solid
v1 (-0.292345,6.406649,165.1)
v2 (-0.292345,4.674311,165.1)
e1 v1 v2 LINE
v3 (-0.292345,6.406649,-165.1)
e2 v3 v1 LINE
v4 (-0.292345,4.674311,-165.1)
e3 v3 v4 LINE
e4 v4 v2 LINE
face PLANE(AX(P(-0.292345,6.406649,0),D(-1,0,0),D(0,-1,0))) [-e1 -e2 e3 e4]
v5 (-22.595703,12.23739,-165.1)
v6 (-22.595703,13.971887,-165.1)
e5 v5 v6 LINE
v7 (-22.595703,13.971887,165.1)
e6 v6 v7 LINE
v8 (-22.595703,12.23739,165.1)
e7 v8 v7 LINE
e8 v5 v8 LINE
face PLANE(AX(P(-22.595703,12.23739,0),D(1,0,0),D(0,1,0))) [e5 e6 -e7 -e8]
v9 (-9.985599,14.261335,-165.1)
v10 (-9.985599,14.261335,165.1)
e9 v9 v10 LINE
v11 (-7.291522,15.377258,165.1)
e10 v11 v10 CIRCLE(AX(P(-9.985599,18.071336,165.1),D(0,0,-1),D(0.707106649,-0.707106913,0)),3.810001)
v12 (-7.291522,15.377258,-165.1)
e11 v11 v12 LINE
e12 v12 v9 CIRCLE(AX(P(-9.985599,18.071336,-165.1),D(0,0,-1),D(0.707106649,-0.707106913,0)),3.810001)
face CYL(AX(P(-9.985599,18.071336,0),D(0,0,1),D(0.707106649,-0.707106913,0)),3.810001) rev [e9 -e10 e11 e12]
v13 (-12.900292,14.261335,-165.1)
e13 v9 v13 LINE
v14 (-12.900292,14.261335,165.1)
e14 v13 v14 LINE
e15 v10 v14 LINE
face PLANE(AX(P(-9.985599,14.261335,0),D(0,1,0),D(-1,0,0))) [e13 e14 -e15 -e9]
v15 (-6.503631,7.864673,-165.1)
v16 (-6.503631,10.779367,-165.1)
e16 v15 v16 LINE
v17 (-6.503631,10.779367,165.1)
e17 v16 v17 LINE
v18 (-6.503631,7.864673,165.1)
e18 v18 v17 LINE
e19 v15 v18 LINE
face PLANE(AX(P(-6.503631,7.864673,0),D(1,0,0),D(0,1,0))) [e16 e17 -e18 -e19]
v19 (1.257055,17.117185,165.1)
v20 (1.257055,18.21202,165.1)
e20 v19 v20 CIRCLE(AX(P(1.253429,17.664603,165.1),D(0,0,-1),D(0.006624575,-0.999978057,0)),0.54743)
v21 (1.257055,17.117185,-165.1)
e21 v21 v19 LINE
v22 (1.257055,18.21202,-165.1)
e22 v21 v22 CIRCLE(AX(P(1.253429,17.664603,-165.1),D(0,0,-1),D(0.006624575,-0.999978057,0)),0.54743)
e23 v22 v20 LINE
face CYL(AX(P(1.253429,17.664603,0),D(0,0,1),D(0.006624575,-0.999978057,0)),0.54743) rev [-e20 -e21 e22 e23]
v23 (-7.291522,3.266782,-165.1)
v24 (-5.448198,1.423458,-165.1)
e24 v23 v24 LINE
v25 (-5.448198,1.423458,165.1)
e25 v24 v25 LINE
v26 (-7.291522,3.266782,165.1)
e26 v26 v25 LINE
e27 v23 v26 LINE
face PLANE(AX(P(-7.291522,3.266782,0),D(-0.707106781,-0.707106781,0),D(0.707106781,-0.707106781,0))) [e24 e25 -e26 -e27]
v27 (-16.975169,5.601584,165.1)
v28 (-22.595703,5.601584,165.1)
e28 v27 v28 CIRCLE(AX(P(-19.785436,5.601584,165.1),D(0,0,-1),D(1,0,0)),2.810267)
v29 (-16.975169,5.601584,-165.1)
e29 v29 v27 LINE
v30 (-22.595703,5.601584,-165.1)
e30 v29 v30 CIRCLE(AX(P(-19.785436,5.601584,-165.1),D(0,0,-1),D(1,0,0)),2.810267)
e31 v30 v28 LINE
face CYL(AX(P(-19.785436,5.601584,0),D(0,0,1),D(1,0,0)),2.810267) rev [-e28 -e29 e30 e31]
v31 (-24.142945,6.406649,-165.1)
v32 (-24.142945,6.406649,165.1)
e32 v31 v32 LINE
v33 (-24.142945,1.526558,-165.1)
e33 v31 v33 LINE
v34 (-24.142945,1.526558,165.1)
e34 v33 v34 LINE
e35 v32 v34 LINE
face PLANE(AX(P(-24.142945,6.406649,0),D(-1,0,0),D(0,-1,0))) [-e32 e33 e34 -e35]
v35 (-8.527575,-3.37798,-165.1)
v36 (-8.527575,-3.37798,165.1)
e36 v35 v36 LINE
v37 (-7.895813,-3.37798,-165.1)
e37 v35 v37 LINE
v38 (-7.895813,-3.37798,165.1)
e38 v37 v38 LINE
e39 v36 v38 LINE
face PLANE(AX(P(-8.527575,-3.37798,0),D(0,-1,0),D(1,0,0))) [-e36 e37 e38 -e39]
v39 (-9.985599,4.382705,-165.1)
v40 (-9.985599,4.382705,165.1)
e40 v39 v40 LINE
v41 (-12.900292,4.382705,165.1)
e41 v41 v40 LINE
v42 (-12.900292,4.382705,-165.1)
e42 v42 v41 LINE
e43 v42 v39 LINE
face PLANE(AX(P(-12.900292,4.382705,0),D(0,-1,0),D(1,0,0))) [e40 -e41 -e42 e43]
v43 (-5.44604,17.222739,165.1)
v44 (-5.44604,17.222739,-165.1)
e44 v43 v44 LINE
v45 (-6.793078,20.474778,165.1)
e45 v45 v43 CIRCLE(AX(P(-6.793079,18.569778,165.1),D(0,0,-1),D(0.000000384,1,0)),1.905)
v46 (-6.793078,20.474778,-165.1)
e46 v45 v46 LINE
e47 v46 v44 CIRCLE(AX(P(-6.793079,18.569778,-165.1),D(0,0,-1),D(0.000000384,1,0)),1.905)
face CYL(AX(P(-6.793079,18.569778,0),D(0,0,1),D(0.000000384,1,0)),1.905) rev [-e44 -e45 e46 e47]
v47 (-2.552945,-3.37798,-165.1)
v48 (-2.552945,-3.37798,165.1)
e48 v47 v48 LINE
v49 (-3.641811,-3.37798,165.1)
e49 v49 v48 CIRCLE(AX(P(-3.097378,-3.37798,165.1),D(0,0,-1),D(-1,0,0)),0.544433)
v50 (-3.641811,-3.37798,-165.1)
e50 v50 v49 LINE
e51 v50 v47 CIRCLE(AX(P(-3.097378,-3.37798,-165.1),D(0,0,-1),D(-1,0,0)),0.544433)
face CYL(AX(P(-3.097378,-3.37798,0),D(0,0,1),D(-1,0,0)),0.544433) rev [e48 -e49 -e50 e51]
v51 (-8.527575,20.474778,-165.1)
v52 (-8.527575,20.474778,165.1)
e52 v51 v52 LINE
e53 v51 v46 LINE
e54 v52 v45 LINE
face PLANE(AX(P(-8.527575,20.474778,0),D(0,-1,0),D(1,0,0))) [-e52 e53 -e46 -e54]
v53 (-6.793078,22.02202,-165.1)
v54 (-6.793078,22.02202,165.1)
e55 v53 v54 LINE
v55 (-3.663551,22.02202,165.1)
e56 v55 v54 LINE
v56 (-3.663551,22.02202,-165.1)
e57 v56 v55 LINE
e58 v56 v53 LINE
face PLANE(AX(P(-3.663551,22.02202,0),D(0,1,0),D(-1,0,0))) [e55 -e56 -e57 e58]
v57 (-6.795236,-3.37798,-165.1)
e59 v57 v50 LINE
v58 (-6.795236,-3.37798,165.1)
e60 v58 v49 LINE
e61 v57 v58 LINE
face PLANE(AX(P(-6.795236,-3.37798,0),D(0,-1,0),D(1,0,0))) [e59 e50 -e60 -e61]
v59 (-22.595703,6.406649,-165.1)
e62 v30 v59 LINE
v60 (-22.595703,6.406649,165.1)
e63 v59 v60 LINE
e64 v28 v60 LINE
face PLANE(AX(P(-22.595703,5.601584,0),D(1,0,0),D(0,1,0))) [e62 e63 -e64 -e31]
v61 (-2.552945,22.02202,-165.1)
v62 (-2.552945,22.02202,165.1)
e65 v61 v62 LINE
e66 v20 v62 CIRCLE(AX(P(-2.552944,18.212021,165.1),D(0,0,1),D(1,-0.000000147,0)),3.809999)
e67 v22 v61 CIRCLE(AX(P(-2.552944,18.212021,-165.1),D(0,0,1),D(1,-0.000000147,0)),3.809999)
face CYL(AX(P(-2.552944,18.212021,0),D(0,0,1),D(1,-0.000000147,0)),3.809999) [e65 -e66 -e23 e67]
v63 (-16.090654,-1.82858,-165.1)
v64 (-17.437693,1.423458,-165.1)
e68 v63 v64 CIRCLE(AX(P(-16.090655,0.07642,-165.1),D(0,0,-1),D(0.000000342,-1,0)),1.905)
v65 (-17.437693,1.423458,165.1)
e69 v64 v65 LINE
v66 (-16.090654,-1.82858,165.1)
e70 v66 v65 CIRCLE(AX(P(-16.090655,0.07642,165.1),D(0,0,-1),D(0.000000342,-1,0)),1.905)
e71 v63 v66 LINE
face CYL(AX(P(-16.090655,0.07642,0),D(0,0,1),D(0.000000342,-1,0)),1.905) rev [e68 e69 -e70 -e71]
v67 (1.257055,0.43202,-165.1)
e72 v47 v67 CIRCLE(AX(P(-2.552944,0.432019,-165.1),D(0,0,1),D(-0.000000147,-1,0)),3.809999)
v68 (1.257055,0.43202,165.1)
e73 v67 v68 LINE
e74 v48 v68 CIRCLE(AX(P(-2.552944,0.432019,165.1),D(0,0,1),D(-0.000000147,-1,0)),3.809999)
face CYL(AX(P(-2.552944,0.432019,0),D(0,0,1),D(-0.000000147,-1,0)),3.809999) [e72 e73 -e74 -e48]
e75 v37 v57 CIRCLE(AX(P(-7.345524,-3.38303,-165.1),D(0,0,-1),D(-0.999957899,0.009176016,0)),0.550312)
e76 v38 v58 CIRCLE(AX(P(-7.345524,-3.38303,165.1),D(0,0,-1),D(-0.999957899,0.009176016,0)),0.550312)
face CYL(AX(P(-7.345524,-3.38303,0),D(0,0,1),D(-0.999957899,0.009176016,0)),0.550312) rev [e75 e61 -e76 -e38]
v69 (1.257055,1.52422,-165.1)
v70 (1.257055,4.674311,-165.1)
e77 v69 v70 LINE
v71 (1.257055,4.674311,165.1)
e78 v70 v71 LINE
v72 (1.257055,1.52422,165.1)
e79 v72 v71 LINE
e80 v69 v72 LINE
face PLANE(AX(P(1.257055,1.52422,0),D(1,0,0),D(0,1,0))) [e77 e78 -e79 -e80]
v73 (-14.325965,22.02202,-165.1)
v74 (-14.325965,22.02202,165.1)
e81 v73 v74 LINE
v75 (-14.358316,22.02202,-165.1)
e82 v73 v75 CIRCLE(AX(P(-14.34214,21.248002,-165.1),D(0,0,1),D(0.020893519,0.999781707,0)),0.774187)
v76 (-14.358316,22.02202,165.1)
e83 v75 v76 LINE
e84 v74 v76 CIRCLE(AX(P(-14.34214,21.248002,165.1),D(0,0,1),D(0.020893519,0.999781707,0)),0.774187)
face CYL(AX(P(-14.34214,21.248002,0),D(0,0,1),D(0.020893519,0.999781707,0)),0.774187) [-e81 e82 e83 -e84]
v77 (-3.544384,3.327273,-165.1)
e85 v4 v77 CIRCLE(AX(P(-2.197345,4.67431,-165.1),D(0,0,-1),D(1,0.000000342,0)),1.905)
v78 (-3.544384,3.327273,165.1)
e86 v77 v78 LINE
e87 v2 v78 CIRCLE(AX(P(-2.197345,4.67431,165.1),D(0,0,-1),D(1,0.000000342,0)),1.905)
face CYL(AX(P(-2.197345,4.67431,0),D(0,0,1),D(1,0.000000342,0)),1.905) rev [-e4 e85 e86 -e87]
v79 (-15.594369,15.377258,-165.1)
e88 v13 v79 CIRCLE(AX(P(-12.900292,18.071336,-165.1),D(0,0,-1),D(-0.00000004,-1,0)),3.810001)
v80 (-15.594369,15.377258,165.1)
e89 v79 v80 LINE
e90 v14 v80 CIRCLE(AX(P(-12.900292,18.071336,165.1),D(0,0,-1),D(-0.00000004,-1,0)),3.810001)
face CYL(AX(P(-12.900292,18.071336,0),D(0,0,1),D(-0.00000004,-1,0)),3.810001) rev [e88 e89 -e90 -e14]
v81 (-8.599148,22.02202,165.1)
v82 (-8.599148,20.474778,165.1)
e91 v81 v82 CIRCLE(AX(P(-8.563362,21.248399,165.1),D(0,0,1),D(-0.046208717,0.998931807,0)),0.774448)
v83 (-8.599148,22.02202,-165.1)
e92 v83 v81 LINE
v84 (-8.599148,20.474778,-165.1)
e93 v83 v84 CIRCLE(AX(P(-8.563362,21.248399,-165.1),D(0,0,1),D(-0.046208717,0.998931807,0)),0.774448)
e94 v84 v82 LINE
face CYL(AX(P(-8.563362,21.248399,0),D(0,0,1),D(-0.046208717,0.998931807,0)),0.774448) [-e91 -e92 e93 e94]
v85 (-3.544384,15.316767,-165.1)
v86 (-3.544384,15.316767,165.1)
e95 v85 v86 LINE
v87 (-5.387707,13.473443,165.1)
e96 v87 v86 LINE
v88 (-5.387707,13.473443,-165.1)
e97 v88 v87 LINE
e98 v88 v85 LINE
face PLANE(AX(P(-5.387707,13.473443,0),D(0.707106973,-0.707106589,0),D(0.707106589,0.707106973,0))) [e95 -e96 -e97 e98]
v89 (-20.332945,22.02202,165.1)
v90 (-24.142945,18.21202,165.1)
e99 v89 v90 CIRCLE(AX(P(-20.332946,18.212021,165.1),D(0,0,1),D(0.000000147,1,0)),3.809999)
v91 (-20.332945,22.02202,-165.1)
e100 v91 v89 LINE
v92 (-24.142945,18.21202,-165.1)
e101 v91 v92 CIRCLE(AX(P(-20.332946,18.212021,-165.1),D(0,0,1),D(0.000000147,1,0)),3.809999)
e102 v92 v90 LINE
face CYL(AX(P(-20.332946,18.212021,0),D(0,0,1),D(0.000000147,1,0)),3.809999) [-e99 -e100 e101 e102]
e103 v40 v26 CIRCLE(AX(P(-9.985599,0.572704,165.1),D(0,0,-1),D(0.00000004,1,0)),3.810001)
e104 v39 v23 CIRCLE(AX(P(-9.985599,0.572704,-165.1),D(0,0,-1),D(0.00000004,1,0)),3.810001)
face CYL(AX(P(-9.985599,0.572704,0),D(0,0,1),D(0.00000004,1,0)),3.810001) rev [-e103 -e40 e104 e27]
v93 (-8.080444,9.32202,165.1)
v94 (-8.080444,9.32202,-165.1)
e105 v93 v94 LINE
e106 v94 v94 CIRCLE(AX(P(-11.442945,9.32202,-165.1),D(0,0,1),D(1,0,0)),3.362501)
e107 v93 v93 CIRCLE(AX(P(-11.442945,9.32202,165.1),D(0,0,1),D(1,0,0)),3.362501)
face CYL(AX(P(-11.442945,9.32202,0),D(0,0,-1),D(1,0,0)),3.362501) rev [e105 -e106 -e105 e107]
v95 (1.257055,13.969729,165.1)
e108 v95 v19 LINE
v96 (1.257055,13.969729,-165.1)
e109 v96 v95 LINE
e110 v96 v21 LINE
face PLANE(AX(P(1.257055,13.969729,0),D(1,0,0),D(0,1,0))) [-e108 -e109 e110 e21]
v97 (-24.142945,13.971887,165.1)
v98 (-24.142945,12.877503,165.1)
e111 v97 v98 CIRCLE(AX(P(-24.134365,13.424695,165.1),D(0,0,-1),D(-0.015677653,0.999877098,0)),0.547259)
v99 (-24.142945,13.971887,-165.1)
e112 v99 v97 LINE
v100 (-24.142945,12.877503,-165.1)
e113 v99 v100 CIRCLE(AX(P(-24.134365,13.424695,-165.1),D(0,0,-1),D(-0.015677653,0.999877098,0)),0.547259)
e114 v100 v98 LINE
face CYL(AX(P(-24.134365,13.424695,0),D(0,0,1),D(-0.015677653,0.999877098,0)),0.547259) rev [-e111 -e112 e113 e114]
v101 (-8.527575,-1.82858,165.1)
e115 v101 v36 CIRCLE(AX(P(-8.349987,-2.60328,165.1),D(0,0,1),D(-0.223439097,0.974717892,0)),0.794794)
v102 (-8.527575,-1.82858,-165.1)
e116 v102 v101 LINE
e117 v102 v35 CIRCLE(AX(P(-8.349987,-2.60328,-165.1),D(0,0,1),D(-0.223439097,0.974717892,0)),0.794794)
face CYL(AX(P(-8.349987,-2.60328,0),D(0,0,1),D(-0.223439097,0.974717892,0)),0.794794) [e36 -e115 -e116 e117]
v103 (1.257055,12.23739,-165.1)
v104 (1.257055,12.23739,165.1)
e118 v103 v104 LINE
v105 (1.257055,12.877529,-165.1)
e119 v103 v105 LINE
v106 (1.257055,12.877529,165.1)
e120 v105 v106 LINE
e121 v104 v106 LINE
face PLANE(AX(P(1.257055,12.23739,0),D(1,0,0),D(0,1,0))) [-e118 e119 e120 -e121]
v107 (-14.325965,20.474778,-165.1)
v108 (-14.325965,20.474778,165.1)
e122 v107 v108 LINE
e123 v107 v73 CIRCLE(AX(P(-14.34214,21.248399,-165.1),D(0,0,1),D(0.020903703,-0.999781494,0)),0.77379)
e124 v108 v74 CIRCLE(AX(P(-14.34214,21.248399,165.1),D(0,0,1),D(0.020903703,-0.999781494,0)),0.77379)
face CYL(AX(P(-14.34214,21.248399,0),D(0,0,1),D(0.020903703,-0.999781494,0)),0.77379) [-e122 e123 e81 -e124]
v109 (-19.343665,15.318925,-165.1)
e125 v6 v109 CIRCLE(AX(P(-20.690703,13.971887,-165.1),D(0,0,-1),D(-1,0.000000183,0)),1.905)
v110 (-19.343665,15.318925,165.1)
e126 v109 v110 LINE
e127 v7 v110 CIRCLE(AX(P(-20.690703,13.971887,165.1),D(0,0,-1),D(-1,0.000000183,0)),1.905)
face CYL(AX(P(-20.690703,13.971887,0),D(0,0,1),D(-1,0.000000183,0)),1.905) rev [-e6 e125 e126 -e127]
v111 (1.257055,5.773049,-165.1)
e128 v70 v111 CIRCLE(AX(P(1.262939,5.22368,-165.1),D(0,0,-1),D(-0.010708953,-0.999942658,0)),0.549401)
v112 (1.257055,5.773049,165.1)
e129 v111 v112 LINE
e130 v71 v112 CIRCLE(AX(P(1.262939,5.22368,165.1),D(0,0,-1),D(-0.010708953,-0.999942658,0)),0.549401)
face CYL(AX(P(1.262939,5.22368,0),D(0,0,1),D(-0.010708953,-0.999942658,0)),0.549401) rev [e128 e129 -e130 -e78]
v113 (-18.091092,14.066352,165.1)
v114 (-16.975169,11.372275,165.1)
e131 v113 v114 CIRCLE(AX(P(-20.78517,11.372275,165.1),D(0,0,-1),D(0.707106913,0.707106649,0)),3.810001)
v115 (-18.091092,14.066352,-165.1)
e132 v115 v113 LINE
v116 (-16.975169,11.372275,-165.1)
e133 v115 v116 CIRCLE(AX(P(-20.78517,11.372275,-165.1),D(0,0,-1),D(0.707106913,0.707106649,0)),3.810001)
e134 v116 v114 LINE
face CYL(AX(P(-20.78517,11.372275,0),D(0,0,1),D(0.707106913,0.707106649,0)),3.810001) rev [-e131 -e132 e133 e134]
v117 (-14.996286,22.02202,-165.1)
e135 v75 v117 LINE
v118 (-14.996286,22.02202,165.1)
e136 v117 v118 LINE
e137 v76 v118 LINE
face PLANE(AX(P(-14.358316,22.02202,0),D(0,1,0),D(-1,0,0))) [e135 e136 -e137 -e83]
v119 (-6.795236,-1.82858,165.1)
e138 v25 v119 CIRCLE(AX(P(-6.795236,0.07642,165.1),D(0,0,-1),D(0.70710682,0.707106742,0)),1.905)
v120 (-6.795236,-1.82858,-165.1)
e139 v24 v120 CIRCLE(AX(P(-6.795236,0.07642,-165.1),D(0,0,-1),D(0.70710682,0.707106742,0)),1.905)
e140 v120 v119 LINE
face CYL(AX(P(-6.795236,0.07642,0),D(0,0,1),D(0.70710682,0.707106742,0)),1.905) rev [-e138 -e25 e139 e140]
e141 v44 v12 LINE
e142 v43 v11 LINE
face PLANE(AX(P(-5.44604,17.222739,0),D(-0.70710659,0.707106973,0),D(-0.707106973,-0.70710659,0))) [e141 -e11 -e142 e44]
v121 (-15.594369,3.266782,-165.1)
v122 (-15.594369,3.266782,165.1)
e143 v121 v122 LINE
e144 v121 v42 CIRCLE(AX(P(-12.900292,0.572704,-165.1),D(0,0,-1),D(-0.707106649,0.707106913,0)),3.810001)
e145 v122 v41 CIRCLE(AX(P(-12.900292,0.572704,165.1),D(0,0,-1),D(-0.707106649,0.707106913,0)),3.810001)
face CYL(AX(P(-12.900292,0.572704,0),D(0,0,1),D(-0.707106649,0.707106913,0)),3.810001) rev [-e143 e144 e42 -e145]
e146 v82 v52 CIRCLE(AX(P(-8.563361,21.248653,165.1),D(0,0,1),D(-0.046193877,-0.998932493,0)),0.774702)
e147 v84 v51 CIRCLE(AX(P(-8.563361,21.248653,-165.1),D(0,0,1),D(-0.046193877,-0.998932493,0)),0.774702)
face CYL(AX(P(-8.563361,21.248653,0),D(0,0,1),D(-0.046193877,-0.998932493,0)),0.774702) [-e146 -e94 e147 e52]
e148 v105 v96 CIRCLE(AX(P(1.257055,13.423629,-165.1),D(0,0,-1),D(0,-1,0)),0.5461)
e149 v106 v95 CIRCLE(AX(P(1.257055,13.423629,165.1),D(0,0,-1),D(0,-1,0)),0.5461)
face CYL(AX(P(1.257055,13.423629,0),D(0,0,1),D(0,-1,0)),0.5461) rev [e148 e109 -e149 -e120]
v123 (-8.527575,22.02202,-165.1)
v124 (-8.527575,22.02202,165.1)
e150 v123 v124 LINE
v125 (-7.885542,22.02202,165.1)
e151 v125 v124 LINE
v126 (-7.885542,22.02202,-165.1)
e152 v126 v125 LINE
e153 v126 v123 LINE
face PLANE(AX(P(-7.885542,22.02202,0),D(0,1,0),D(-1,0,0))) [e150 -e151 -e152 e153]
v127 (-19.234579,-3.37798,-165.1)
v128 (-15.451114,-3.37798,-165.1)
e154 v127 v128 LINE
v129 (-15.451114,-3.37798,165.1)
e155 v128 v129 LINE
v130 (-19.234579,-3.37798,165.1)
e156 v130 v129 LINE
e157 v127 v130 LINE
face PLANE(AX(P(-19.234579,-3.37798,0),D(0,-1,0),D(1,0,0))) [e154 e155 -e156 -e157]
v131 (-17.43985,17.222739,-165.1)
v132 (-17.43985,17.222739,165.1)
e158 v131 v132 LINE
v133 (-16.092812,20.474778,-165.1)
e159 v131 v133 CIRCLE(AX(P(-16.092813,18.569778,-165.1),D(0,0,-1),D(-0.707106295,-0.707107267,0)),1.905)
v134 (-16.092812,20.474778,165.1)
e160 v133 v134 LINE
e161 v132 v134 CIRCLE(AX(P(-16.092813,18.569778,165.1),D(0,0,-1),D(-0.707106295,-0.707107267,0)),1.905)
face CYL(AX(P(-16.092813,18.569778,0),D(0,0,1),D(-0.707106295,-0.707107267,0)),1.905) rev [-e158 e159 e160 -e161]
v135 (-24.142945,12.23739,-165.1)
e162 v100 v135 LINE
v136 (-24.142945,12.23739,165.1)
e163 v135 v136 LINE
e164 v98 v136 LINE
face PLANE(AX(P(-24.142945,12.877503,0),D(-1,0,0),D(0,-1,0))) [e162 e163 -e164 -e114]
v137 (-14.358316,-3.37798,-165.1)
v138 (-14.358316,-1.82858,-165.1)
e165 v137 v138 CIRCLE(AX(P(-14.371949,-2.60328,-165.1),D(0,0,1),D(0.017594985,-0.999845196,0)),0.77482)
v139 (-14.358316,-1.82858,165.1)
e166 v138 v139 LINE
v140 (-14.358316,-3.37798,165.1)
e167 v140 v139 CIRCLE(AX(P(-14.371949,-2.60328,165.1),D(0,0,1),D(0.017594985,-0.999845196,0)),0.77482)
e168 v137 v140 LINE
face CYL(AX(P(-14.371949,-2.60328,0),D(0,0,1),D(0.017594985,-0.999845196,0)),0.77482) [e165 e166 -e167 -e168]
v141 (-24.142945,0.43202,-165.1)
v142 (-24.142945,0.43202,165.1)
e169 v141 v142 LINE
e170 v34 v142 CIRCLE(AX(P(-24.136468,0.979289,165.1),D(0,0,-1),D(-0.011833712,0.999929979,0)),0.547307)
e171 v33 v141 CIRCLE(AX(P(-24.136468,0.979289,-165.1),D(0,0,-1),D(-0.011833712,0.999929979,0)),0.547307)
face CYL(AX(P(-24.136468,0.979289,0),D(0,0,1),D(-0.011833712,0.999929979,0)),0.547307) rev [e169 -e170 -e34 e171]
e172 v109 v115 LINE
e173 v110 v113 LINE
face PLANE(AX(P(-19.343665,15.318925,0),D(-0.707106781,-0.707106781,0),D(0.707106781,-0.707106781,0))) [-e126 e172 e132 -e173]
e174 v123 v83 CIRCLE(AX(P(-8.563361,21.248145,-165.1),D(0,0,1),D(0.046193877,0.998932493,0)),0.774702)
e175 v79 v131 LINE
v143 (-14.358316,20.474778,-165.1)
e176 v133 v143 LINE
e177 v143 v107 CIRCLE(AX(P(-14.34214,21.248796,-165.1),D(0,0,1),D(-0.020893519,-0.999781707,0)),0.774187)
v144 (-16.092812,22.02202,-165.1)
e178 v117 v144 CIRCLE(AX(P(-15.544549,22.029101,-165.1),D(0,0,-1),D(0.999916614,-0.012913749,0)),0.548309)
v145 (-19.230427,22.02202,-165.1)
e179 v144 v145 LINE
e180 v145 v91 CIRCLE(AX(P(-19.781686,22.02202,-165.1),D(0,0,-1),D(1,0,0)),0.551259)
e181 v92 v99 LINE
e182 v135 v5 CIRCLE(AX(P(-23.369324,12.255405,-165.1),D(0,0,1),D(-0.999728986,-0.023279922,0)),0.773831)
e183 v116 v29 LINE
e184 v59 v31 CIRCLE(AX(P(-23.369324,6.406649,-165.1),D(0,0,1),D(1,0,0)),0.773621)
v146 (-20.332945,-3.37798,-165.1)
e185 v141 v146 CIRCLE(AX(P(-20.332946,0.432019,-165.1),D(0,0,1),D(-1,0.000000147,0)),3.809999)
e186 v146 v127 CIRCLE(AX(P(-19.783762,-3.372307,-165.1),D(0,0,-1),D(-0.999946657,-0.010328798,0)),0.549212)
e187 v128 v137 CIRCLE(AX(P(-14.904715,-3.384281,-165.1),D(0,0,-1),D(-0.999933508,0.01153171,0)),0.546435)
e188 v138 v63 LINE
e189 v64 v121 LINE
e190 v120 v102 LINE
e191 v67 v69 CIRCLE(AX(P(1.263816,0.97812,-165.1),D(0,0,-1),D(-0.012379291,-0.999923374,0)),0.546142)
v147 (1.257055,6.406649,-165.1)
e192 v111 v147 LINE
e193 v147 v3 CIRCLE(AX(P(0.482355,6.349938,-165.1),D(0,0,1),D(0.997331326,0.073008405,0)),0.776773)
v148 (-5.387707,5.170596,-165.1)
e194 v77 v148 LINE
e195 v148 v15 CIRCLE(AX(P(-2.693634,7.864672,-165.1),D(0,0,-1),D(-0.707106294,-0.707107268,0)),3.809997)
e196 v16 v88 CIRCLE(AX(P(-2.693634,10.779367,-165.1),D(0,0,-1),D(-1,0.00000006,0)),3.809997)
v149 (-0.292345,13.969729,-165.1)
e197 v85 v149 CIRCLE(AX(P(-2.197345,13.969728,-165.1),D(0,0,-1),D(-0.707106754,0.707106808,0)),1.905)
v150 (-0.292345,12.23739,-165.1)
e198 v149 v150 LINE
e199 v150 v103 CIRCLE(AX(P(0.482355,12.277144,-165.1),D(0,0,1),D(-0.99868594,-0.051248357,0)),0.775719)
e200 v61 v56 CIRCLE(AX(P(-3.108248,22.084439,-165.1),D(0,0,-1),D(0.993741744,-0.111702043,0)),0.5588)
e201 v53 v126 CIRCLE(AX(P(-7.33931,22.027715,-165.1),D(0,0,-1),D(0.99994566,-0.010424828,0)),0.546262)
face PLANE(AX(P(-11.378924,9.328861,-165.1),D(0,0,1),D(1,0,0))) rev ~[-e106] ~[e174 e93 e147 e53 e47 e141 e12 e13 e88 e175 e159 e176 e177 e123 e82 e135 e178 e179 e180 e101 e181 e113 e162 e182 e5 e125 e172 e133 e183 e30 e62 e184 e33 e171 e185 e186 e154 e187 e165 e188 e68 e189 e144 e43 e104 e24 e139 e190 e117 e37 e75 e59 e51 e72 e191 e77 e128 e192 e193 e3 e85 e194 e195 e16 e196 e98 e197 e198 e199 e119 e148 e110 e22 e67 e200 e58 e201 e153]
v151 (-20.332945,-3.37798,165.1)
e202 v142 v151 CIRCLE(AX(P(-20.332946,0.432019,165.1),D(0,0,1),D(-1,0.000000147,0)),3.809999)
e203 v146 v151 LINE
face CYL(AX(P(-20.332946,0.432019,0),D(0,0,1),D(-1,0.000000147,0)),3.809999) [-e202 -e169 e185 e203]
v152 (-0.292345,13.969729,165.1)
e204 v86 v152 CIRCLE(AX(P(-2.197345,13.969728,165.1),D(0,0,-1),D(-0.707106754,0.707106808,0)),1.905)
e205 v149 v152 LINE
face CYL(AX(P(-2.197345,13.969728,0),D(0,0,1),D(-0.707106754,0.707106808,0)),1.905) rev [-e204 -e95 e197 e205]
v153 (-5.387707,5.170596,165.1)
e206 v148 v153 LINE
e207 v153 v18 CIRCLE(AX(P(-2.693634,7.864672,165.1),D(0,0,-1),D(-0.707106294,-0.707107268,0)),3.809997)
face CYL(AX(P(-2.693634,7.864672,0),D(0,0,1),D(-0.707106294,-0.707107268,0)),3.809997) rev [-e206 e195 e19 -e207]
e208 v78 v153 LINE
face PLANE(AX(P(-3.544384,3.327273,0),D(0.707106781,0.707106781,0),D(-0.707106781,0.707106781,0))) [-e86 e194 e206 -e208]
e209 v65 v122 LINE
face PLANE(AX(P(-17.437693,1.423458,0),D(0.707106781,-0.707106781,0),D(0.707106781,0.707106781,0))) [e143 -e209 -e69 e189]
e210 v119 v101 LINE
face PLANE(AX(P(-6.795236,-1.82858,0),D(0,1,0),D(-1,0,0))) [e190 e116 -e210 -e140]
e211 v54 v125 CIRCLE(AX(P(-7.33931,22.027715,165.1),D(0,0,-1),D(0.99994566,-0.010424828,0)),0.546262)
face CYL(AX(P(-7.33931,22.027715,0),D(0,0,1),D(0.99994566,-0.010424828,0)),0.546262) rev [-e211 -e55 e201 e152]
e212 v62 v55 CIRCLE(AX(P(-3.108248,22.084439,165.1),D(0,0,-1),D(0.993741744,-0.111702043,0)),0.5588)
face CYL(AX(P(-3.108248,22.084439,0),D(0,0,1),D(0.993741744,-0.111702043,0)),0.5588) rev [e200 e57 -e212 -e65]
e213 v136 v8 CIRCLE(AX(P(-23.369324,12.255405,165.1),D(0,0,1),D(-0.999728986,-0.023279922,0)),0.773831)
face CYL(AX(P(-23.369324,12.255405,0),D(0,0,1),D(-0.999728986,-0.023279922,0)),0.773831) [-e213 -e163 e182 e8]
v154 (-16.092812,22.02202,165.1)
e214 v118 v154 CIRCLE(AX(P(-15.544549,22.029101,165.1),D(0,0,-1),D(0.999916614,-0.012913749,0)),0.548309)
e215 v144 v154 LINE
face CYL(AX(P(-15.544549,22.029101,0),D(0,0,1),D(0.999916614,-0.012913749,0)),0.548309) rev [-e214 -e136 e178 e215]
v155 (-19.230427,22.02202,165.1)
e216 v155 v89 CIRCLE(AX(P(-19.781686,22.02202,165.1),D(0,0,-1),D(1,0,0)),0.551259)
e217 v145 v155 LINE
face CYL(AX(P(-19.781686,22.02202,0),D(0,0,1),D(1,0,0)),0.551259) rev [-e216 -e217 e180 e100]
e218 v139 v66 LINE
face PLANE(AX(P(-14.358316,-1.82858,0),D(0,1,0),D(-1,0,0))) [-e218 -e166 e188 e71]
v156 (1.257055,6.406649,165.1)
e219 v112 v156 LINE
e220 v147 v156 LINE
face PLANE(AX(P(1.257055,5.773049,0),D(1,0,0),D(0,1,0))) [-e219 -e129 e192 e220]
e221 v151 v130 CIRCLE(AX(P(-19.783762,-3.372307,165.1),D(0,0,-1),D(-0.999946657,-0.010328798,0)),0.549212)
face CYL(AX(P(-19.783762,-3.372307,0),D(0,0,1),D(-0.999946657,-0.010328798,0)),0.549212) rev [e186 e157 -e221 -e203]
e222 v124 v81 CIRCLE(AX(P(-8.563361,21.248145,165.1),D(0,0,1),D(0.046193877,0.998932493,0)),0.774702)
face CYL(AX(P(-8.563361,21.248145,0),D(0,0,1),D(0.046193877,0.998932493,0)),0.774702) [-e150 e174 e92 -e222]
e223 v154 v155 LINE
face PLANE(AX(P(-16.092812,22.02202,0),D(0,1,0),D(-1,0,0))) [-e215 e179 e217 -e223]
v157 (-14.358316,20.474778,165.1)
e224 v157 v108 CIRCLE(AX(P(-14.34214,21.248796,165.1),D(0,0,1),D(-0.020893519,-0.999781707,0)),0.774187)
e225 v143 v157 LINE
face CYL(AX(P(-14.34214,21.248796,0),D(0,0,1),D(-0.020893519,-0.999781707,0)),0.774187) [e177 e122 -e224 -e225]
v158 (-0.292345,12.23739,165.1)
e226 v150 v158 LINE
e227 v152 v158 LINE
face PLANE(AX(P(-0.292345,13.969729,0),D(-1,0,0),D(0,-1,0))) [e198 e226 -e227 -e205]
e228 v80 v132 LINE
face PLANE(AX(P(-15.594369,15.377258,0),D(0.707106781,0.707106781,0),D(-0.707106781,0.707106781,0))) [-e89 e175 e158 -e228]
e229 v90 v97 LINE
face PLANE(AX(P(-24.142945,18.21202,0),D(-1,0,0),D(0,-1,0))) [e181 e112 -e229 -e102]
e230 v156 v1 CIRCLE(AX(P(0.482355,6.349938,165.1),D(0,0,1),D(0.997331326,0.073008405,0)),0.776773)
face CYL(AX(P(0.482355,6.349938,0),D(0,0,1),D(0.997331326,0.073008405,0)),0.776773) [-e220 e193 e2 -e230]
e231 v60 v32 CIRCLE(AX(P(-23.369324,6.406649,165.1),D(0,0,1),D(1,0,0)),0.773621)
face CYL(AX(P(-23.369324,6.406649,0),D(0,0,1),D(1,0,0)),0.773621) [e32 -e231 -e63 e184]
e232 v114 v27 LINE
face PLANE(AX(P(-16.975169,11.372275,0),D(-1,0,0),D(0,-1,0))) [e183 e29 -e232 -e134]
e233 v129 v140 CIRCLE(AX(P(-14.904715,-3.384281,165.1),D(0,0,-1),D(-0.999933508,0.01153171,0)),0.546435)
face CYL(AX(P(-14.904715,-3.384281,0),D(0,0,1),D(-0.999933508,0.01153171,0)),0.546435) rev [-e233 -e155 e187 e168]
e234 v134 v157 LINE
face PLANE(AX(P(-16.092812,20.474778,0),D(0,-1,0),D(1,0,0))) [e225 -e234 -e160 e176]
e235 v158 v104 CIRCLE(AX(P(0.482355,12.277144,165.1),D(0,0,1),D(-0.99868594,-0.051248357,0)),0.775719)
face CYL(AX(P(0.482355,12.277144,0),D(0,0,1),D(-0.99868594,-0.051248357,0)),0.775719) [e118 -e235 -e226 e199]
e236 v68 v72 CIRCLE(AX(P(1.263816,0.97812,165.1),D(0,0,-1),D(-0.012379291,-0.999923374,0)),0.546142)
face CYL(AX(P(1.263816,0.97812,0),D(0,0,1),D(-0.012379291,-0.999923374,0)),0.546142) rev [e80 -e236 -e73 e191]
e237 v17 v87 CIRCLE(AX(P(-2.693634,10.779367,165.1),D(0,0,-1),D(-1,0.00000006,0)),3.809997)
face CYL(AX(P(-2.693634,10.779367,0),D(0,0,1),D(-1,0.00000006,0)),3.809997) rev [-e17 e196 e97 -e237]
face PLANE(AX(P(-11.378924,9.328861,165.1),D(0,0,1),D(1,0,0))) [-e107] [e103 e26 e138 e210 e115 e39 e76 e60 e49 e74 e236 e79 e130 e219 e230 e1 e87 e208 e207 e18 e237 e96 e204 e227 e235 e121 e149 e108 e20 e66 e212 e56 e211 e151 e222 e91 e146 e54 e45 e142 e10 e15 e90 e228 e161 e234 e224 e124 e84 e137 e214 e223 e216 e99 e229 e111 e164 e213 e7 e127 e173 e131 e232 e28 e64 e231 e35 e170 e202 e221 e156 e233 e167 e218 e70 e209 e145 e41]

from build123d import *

# Parameters (mm, degrees)
F0_R     = 3.362501
F1_DEPTH = 165.1


with BuildPart() as f1:
    # F0 (on Top) → F1 (new body, symmetric)
    with BuildSketch(Plane.XY):
        with BuildLine():
            ThreePointArc((-7.291522, 15.377258), (-8.527575, 14.551354), (-9.985599, 14.261335))
            Line((-9.985599, 14.261335), (-12.900292, 14.261335))
            ThreePointArc((-12.900292, 14.261335), (-14.358316, 14.551354), (-15.594369, 15.377258))
            Line((-15.594369, 15.377258), (-17.43985, 17.222739))
            ThreePointArc((-17.43985, 17.222739), (-17.852803, 19.29879), (-16.092812, 20.474778))
            Line((-16.092812, 20.474778), (-14.358316, 20.474778))
            Line((-14.358316, 20.474778), (-14.325965, 20.474778))
            ThreePointArc((-14.325965, 20.474778), (-13.56835, 21.248399), (-14.325965, 22.02202))
            Line((-14.325965, 22.02202), (-14.358316, 22.02202))
            Line((-14.358316, 22.02202), (-14.996286, 22.02202))
            ThreePointArc((-14.996286, 22.02202), (-15.544549, 21.480792), (-16.092812, 22.02202))
            Line((-16.092812, 22.02202), (-19.230427, 22.02202))
            ThreePointArc((-19.230427, 22.02202), (-19.781686, 21.470761), (-20.332945, 22.02202))
            ThreePointArc((-20.332945, 22.02202), (-23.027022, 20.906097), (-24.142945, 18.21202))
            Line((-24.142945, 18.21202), (-24.142945, 17.126744))
            Line((-24.142945, 17.126744), (-24.142945, 13.971887))
            ThreePointArc((-24.142945, 13.971887), (-23.587106, 13.424695), (-24.142945, 12.877503))
            Line((-24.142945, 12.877503), (-24.142945, 12.23739))
            ThreePointArc((-24.142945, 12.23739), (-23.369324, 11.481574), (-22.595703, 12.23739))
            Line((-22.595703, 12.23739), (-22.595703, 13.971887))
            ThreePointArc((-22.595703, 13.971887), (-21.419715, 15.731877), (-19.343665, 15.318925))
            Line((-19.343665, 15.318925), (-18.091092, 14.066352))
            ThreePointArc((-18.091092, 14.066352), (-17.265188, 12.830299), (-16.975169, 11.372275))
            Line((-16.975169, 11.372275), (-16.975169, 5.601584))
            ThreePointArc((-16.975169, 5.601584), (-19.785436, 2.791317), (-22.595703, 5.601584))
            Line((-22.595703, 5.601584), (-22.595703, 6.406649))
            ThreePointArc((-22.595703, 6.406649), (-23.369324, 7.18027), (-24.142945, 6.406649))
            Line((-24.142945, 6.406649), (-24.142945, 5.771259))
            Line((-24.142945, 5.771259), (-24.142945, 1.526558))
            ThreePointArc((-24.142945, 1.526558), (-23.589161, 0.979289), (-24.142945, 0.43202))
            ThreePointArc((-24.142945, 0.43202), (-23.027022, -2.262057), (-20.332945, -3.37798))
            ThreePointArc((-20.332945, -3.37798), (-19.783762, -2.823095), (-19.234579, -3.37798))
            Line((-19.234579, -3.37798), (-15.451114, -3.37798))
            ThreePointArc((-15.451114, -3.37798), (-14.904715, -2.837846), (-14.358316, -3.37798))
            ThreePointArc((-14.358316, -3.37798), (-13.597129, -2.60328), (-14.358316, -1.82858))
            Line((-14.358316, -1.82858), (-16.090654, -1.82858))
            ThreePointArc((-16.090654, -1.82858), (-17.850645, -0.652592), (-17.437693, 1.423458))
            Line((-17.437693, 1.423458), (-15.594369, 3.266782))
            ThreePointArc((-15.594369, 3.266782), (-14.358316, 4.092686), (-12.900292, 4.382705))
            Line((-12.900292, 4.382705), (-9.985599, 4.382705))
            ThreePointArc((-9.985599, 4.382705), (-8.527575, 4.092686), (-7.291522, 3.266782))
            Line((-7.291522, 3.266782), (-5.448198, 1.423458))
            ThreePointArc((-5.448198, 1.423458), (-5.035246, -0.652592), (-6.795236, -1.82858))
            Line((-6.795236, -1.82858), (-8.527575, -1.82858))
            ThreePointArc((-8.527575, -1.82858), (-9.144781, -2.60328), (-8.527575, -3.37798))
            Line((-8.527575, -3.37798), (-7.895813, -3.37798))
            ThreePointArc((-7.895813, -3.37798), (-7.345525, -2.832718), (-6.795236, -3.37798))
            Line((-6.795236, -3.37798), (-3.641811, -3.37798))
            ThreePointArc((-3.641811, -3.37798), (-3.097378, -2.833547), (-2.552945, -3.37798))
            ThreePointArc((-2.552945, -3.37798), (0.141132, -2.262057), (1.257055, 0.43202))
            ThreePointArc((1.257055, 0.43202), (0.717674, 0.97812), (1.257055, 1.52422))
            Line((1.257055, 1.52422), (1.257055, 4.674311))
            ThreePointArc((1.257055, 4.674311), (0.713538, 5.22368), (1.257055, 5.773049))
            Line((1.257055, 5.773049), (1.257055, 6.406649))
            ThreePointArc((1.257055, 6.406649), (0.482355, 7.126711), (-0.292345, 6.406649))
            Line((-0.292345, 6.406649), (-0.292345, 4.674311))
            ThreePointArc((-0.292345, 4.674311), (-1.468333, 2.91432), (-3.544384, 3.327273))
            Line((-3.544384, 3.327273), (-5.387707, 5.170596))
            ThreePointArc((-5.387707, 5.170596), (-6.213612, 6.406649), (-6.503631, 7.864673))
            Line((-6.503631, 7.864673), (-6.503631, 10.779367))
            ThreePointArc((-6.503631, 10.779367), (-6.213612, 12.23739), (-5.387707, 13.473443))
            Line((-5.387707, 13.473443), (-3.544384, 15.316767))
            ThreePointArc((-3.544384, 15.316767), (-1.468333, 15.729719), (-0.292345, 13.969729))
            Line((-0.292345, 13.969729), (-0.292345, 12.23739))
            ThreePointArc((-0.292345, 12.23739), (0.482355, 11.501425), (1.257055, 12.23739))
            Line((1.257055, 12.23739), (1.257055, 12.877529))
            ThreePointArc((1.257055, 12.877529), (0.710955, 13.423629), (1.257055, 13.969729))
            Line((1.257055, 13.969729), (1.257055, 17.117185))
            ThreePointArc((1.257055, 17.117185), (0.705999, 17.664602), (1.257055, 18.21202))
            ThreePointArc((1.257055, 18.21202), (0.141132, 20.906097), (-2.552945, 22.02202))
            ThreePointArc((-2.552945, 22.02202), (-3.108248, 21.525639), (-3.663551, 22.02202))
            Line((-3.663551, 22.02202), (-6.793078, 22.02202))
            ThreePointArc((-6.793078, 22.02202), (-7.33931, 21.481453), (-7.885542, 22.02202))
            Line((-7.885542, 22.02202), (-8.527575, 22.02202))
            Line((-8.527575, 22.02202), (-8.599148, 22.02202))
            ThreePointArc((-8.599148, 22.02202), (-9.33781, 21.248399), (-8.599148, 20.474778))
            Line((-8.599148, 20.474778), (-8.527575, 20.474778))
            Line((-8.527575, 20.474778), (-6.793078, 20.474778))
            ThreePointArc((-6.793078, 20.474778), (-5.033088, 19.29879), (-5.44604, 17.222739))
            Line((-5.44604, 17.222739), (-7.291522, 15.377258))
        make_face()
        with Locations((-11.442945, 9.32202)):
            Circle(F0_R, mode=Mode.SUBTRACT)
        with BuildLine():
            ThreePointArc((-8.599148, 20.474778), (-8.563361, 20.473951), (-8.527575, 20.474778))
            Line((-8.527575, 20.474778), (-8.599148, 20.474778))
        make_face()
        with BuildLine():
            Line((-14.325965, 20.474778), (-14.358316, 20.474778))
            ThreePointArc((-14.358316, 20.474778), (-14.34214, 20.474609), (-14.325965, 20.474778))
        make_face()
        with BuildLine():
            ThreePointArc((-8.527575, 22.02202), (-8.563361, 22.022847), (-8.599148, 22.02202))
            Line((-8.599148, 22.02202), (-8.527575, 22.02202))
        make_face()
        with BuildLine():
            Line((-14.358316, 22.02202), (-14.325965, 22.02202))
            ThreePointArc((-14.325965, 22.02202), (-14.34214, 22.022189), (-14.358316, 22.02202))
        make_face()
    extrude(amount=F1_DEPTH, both=True)


solid = f1.part
